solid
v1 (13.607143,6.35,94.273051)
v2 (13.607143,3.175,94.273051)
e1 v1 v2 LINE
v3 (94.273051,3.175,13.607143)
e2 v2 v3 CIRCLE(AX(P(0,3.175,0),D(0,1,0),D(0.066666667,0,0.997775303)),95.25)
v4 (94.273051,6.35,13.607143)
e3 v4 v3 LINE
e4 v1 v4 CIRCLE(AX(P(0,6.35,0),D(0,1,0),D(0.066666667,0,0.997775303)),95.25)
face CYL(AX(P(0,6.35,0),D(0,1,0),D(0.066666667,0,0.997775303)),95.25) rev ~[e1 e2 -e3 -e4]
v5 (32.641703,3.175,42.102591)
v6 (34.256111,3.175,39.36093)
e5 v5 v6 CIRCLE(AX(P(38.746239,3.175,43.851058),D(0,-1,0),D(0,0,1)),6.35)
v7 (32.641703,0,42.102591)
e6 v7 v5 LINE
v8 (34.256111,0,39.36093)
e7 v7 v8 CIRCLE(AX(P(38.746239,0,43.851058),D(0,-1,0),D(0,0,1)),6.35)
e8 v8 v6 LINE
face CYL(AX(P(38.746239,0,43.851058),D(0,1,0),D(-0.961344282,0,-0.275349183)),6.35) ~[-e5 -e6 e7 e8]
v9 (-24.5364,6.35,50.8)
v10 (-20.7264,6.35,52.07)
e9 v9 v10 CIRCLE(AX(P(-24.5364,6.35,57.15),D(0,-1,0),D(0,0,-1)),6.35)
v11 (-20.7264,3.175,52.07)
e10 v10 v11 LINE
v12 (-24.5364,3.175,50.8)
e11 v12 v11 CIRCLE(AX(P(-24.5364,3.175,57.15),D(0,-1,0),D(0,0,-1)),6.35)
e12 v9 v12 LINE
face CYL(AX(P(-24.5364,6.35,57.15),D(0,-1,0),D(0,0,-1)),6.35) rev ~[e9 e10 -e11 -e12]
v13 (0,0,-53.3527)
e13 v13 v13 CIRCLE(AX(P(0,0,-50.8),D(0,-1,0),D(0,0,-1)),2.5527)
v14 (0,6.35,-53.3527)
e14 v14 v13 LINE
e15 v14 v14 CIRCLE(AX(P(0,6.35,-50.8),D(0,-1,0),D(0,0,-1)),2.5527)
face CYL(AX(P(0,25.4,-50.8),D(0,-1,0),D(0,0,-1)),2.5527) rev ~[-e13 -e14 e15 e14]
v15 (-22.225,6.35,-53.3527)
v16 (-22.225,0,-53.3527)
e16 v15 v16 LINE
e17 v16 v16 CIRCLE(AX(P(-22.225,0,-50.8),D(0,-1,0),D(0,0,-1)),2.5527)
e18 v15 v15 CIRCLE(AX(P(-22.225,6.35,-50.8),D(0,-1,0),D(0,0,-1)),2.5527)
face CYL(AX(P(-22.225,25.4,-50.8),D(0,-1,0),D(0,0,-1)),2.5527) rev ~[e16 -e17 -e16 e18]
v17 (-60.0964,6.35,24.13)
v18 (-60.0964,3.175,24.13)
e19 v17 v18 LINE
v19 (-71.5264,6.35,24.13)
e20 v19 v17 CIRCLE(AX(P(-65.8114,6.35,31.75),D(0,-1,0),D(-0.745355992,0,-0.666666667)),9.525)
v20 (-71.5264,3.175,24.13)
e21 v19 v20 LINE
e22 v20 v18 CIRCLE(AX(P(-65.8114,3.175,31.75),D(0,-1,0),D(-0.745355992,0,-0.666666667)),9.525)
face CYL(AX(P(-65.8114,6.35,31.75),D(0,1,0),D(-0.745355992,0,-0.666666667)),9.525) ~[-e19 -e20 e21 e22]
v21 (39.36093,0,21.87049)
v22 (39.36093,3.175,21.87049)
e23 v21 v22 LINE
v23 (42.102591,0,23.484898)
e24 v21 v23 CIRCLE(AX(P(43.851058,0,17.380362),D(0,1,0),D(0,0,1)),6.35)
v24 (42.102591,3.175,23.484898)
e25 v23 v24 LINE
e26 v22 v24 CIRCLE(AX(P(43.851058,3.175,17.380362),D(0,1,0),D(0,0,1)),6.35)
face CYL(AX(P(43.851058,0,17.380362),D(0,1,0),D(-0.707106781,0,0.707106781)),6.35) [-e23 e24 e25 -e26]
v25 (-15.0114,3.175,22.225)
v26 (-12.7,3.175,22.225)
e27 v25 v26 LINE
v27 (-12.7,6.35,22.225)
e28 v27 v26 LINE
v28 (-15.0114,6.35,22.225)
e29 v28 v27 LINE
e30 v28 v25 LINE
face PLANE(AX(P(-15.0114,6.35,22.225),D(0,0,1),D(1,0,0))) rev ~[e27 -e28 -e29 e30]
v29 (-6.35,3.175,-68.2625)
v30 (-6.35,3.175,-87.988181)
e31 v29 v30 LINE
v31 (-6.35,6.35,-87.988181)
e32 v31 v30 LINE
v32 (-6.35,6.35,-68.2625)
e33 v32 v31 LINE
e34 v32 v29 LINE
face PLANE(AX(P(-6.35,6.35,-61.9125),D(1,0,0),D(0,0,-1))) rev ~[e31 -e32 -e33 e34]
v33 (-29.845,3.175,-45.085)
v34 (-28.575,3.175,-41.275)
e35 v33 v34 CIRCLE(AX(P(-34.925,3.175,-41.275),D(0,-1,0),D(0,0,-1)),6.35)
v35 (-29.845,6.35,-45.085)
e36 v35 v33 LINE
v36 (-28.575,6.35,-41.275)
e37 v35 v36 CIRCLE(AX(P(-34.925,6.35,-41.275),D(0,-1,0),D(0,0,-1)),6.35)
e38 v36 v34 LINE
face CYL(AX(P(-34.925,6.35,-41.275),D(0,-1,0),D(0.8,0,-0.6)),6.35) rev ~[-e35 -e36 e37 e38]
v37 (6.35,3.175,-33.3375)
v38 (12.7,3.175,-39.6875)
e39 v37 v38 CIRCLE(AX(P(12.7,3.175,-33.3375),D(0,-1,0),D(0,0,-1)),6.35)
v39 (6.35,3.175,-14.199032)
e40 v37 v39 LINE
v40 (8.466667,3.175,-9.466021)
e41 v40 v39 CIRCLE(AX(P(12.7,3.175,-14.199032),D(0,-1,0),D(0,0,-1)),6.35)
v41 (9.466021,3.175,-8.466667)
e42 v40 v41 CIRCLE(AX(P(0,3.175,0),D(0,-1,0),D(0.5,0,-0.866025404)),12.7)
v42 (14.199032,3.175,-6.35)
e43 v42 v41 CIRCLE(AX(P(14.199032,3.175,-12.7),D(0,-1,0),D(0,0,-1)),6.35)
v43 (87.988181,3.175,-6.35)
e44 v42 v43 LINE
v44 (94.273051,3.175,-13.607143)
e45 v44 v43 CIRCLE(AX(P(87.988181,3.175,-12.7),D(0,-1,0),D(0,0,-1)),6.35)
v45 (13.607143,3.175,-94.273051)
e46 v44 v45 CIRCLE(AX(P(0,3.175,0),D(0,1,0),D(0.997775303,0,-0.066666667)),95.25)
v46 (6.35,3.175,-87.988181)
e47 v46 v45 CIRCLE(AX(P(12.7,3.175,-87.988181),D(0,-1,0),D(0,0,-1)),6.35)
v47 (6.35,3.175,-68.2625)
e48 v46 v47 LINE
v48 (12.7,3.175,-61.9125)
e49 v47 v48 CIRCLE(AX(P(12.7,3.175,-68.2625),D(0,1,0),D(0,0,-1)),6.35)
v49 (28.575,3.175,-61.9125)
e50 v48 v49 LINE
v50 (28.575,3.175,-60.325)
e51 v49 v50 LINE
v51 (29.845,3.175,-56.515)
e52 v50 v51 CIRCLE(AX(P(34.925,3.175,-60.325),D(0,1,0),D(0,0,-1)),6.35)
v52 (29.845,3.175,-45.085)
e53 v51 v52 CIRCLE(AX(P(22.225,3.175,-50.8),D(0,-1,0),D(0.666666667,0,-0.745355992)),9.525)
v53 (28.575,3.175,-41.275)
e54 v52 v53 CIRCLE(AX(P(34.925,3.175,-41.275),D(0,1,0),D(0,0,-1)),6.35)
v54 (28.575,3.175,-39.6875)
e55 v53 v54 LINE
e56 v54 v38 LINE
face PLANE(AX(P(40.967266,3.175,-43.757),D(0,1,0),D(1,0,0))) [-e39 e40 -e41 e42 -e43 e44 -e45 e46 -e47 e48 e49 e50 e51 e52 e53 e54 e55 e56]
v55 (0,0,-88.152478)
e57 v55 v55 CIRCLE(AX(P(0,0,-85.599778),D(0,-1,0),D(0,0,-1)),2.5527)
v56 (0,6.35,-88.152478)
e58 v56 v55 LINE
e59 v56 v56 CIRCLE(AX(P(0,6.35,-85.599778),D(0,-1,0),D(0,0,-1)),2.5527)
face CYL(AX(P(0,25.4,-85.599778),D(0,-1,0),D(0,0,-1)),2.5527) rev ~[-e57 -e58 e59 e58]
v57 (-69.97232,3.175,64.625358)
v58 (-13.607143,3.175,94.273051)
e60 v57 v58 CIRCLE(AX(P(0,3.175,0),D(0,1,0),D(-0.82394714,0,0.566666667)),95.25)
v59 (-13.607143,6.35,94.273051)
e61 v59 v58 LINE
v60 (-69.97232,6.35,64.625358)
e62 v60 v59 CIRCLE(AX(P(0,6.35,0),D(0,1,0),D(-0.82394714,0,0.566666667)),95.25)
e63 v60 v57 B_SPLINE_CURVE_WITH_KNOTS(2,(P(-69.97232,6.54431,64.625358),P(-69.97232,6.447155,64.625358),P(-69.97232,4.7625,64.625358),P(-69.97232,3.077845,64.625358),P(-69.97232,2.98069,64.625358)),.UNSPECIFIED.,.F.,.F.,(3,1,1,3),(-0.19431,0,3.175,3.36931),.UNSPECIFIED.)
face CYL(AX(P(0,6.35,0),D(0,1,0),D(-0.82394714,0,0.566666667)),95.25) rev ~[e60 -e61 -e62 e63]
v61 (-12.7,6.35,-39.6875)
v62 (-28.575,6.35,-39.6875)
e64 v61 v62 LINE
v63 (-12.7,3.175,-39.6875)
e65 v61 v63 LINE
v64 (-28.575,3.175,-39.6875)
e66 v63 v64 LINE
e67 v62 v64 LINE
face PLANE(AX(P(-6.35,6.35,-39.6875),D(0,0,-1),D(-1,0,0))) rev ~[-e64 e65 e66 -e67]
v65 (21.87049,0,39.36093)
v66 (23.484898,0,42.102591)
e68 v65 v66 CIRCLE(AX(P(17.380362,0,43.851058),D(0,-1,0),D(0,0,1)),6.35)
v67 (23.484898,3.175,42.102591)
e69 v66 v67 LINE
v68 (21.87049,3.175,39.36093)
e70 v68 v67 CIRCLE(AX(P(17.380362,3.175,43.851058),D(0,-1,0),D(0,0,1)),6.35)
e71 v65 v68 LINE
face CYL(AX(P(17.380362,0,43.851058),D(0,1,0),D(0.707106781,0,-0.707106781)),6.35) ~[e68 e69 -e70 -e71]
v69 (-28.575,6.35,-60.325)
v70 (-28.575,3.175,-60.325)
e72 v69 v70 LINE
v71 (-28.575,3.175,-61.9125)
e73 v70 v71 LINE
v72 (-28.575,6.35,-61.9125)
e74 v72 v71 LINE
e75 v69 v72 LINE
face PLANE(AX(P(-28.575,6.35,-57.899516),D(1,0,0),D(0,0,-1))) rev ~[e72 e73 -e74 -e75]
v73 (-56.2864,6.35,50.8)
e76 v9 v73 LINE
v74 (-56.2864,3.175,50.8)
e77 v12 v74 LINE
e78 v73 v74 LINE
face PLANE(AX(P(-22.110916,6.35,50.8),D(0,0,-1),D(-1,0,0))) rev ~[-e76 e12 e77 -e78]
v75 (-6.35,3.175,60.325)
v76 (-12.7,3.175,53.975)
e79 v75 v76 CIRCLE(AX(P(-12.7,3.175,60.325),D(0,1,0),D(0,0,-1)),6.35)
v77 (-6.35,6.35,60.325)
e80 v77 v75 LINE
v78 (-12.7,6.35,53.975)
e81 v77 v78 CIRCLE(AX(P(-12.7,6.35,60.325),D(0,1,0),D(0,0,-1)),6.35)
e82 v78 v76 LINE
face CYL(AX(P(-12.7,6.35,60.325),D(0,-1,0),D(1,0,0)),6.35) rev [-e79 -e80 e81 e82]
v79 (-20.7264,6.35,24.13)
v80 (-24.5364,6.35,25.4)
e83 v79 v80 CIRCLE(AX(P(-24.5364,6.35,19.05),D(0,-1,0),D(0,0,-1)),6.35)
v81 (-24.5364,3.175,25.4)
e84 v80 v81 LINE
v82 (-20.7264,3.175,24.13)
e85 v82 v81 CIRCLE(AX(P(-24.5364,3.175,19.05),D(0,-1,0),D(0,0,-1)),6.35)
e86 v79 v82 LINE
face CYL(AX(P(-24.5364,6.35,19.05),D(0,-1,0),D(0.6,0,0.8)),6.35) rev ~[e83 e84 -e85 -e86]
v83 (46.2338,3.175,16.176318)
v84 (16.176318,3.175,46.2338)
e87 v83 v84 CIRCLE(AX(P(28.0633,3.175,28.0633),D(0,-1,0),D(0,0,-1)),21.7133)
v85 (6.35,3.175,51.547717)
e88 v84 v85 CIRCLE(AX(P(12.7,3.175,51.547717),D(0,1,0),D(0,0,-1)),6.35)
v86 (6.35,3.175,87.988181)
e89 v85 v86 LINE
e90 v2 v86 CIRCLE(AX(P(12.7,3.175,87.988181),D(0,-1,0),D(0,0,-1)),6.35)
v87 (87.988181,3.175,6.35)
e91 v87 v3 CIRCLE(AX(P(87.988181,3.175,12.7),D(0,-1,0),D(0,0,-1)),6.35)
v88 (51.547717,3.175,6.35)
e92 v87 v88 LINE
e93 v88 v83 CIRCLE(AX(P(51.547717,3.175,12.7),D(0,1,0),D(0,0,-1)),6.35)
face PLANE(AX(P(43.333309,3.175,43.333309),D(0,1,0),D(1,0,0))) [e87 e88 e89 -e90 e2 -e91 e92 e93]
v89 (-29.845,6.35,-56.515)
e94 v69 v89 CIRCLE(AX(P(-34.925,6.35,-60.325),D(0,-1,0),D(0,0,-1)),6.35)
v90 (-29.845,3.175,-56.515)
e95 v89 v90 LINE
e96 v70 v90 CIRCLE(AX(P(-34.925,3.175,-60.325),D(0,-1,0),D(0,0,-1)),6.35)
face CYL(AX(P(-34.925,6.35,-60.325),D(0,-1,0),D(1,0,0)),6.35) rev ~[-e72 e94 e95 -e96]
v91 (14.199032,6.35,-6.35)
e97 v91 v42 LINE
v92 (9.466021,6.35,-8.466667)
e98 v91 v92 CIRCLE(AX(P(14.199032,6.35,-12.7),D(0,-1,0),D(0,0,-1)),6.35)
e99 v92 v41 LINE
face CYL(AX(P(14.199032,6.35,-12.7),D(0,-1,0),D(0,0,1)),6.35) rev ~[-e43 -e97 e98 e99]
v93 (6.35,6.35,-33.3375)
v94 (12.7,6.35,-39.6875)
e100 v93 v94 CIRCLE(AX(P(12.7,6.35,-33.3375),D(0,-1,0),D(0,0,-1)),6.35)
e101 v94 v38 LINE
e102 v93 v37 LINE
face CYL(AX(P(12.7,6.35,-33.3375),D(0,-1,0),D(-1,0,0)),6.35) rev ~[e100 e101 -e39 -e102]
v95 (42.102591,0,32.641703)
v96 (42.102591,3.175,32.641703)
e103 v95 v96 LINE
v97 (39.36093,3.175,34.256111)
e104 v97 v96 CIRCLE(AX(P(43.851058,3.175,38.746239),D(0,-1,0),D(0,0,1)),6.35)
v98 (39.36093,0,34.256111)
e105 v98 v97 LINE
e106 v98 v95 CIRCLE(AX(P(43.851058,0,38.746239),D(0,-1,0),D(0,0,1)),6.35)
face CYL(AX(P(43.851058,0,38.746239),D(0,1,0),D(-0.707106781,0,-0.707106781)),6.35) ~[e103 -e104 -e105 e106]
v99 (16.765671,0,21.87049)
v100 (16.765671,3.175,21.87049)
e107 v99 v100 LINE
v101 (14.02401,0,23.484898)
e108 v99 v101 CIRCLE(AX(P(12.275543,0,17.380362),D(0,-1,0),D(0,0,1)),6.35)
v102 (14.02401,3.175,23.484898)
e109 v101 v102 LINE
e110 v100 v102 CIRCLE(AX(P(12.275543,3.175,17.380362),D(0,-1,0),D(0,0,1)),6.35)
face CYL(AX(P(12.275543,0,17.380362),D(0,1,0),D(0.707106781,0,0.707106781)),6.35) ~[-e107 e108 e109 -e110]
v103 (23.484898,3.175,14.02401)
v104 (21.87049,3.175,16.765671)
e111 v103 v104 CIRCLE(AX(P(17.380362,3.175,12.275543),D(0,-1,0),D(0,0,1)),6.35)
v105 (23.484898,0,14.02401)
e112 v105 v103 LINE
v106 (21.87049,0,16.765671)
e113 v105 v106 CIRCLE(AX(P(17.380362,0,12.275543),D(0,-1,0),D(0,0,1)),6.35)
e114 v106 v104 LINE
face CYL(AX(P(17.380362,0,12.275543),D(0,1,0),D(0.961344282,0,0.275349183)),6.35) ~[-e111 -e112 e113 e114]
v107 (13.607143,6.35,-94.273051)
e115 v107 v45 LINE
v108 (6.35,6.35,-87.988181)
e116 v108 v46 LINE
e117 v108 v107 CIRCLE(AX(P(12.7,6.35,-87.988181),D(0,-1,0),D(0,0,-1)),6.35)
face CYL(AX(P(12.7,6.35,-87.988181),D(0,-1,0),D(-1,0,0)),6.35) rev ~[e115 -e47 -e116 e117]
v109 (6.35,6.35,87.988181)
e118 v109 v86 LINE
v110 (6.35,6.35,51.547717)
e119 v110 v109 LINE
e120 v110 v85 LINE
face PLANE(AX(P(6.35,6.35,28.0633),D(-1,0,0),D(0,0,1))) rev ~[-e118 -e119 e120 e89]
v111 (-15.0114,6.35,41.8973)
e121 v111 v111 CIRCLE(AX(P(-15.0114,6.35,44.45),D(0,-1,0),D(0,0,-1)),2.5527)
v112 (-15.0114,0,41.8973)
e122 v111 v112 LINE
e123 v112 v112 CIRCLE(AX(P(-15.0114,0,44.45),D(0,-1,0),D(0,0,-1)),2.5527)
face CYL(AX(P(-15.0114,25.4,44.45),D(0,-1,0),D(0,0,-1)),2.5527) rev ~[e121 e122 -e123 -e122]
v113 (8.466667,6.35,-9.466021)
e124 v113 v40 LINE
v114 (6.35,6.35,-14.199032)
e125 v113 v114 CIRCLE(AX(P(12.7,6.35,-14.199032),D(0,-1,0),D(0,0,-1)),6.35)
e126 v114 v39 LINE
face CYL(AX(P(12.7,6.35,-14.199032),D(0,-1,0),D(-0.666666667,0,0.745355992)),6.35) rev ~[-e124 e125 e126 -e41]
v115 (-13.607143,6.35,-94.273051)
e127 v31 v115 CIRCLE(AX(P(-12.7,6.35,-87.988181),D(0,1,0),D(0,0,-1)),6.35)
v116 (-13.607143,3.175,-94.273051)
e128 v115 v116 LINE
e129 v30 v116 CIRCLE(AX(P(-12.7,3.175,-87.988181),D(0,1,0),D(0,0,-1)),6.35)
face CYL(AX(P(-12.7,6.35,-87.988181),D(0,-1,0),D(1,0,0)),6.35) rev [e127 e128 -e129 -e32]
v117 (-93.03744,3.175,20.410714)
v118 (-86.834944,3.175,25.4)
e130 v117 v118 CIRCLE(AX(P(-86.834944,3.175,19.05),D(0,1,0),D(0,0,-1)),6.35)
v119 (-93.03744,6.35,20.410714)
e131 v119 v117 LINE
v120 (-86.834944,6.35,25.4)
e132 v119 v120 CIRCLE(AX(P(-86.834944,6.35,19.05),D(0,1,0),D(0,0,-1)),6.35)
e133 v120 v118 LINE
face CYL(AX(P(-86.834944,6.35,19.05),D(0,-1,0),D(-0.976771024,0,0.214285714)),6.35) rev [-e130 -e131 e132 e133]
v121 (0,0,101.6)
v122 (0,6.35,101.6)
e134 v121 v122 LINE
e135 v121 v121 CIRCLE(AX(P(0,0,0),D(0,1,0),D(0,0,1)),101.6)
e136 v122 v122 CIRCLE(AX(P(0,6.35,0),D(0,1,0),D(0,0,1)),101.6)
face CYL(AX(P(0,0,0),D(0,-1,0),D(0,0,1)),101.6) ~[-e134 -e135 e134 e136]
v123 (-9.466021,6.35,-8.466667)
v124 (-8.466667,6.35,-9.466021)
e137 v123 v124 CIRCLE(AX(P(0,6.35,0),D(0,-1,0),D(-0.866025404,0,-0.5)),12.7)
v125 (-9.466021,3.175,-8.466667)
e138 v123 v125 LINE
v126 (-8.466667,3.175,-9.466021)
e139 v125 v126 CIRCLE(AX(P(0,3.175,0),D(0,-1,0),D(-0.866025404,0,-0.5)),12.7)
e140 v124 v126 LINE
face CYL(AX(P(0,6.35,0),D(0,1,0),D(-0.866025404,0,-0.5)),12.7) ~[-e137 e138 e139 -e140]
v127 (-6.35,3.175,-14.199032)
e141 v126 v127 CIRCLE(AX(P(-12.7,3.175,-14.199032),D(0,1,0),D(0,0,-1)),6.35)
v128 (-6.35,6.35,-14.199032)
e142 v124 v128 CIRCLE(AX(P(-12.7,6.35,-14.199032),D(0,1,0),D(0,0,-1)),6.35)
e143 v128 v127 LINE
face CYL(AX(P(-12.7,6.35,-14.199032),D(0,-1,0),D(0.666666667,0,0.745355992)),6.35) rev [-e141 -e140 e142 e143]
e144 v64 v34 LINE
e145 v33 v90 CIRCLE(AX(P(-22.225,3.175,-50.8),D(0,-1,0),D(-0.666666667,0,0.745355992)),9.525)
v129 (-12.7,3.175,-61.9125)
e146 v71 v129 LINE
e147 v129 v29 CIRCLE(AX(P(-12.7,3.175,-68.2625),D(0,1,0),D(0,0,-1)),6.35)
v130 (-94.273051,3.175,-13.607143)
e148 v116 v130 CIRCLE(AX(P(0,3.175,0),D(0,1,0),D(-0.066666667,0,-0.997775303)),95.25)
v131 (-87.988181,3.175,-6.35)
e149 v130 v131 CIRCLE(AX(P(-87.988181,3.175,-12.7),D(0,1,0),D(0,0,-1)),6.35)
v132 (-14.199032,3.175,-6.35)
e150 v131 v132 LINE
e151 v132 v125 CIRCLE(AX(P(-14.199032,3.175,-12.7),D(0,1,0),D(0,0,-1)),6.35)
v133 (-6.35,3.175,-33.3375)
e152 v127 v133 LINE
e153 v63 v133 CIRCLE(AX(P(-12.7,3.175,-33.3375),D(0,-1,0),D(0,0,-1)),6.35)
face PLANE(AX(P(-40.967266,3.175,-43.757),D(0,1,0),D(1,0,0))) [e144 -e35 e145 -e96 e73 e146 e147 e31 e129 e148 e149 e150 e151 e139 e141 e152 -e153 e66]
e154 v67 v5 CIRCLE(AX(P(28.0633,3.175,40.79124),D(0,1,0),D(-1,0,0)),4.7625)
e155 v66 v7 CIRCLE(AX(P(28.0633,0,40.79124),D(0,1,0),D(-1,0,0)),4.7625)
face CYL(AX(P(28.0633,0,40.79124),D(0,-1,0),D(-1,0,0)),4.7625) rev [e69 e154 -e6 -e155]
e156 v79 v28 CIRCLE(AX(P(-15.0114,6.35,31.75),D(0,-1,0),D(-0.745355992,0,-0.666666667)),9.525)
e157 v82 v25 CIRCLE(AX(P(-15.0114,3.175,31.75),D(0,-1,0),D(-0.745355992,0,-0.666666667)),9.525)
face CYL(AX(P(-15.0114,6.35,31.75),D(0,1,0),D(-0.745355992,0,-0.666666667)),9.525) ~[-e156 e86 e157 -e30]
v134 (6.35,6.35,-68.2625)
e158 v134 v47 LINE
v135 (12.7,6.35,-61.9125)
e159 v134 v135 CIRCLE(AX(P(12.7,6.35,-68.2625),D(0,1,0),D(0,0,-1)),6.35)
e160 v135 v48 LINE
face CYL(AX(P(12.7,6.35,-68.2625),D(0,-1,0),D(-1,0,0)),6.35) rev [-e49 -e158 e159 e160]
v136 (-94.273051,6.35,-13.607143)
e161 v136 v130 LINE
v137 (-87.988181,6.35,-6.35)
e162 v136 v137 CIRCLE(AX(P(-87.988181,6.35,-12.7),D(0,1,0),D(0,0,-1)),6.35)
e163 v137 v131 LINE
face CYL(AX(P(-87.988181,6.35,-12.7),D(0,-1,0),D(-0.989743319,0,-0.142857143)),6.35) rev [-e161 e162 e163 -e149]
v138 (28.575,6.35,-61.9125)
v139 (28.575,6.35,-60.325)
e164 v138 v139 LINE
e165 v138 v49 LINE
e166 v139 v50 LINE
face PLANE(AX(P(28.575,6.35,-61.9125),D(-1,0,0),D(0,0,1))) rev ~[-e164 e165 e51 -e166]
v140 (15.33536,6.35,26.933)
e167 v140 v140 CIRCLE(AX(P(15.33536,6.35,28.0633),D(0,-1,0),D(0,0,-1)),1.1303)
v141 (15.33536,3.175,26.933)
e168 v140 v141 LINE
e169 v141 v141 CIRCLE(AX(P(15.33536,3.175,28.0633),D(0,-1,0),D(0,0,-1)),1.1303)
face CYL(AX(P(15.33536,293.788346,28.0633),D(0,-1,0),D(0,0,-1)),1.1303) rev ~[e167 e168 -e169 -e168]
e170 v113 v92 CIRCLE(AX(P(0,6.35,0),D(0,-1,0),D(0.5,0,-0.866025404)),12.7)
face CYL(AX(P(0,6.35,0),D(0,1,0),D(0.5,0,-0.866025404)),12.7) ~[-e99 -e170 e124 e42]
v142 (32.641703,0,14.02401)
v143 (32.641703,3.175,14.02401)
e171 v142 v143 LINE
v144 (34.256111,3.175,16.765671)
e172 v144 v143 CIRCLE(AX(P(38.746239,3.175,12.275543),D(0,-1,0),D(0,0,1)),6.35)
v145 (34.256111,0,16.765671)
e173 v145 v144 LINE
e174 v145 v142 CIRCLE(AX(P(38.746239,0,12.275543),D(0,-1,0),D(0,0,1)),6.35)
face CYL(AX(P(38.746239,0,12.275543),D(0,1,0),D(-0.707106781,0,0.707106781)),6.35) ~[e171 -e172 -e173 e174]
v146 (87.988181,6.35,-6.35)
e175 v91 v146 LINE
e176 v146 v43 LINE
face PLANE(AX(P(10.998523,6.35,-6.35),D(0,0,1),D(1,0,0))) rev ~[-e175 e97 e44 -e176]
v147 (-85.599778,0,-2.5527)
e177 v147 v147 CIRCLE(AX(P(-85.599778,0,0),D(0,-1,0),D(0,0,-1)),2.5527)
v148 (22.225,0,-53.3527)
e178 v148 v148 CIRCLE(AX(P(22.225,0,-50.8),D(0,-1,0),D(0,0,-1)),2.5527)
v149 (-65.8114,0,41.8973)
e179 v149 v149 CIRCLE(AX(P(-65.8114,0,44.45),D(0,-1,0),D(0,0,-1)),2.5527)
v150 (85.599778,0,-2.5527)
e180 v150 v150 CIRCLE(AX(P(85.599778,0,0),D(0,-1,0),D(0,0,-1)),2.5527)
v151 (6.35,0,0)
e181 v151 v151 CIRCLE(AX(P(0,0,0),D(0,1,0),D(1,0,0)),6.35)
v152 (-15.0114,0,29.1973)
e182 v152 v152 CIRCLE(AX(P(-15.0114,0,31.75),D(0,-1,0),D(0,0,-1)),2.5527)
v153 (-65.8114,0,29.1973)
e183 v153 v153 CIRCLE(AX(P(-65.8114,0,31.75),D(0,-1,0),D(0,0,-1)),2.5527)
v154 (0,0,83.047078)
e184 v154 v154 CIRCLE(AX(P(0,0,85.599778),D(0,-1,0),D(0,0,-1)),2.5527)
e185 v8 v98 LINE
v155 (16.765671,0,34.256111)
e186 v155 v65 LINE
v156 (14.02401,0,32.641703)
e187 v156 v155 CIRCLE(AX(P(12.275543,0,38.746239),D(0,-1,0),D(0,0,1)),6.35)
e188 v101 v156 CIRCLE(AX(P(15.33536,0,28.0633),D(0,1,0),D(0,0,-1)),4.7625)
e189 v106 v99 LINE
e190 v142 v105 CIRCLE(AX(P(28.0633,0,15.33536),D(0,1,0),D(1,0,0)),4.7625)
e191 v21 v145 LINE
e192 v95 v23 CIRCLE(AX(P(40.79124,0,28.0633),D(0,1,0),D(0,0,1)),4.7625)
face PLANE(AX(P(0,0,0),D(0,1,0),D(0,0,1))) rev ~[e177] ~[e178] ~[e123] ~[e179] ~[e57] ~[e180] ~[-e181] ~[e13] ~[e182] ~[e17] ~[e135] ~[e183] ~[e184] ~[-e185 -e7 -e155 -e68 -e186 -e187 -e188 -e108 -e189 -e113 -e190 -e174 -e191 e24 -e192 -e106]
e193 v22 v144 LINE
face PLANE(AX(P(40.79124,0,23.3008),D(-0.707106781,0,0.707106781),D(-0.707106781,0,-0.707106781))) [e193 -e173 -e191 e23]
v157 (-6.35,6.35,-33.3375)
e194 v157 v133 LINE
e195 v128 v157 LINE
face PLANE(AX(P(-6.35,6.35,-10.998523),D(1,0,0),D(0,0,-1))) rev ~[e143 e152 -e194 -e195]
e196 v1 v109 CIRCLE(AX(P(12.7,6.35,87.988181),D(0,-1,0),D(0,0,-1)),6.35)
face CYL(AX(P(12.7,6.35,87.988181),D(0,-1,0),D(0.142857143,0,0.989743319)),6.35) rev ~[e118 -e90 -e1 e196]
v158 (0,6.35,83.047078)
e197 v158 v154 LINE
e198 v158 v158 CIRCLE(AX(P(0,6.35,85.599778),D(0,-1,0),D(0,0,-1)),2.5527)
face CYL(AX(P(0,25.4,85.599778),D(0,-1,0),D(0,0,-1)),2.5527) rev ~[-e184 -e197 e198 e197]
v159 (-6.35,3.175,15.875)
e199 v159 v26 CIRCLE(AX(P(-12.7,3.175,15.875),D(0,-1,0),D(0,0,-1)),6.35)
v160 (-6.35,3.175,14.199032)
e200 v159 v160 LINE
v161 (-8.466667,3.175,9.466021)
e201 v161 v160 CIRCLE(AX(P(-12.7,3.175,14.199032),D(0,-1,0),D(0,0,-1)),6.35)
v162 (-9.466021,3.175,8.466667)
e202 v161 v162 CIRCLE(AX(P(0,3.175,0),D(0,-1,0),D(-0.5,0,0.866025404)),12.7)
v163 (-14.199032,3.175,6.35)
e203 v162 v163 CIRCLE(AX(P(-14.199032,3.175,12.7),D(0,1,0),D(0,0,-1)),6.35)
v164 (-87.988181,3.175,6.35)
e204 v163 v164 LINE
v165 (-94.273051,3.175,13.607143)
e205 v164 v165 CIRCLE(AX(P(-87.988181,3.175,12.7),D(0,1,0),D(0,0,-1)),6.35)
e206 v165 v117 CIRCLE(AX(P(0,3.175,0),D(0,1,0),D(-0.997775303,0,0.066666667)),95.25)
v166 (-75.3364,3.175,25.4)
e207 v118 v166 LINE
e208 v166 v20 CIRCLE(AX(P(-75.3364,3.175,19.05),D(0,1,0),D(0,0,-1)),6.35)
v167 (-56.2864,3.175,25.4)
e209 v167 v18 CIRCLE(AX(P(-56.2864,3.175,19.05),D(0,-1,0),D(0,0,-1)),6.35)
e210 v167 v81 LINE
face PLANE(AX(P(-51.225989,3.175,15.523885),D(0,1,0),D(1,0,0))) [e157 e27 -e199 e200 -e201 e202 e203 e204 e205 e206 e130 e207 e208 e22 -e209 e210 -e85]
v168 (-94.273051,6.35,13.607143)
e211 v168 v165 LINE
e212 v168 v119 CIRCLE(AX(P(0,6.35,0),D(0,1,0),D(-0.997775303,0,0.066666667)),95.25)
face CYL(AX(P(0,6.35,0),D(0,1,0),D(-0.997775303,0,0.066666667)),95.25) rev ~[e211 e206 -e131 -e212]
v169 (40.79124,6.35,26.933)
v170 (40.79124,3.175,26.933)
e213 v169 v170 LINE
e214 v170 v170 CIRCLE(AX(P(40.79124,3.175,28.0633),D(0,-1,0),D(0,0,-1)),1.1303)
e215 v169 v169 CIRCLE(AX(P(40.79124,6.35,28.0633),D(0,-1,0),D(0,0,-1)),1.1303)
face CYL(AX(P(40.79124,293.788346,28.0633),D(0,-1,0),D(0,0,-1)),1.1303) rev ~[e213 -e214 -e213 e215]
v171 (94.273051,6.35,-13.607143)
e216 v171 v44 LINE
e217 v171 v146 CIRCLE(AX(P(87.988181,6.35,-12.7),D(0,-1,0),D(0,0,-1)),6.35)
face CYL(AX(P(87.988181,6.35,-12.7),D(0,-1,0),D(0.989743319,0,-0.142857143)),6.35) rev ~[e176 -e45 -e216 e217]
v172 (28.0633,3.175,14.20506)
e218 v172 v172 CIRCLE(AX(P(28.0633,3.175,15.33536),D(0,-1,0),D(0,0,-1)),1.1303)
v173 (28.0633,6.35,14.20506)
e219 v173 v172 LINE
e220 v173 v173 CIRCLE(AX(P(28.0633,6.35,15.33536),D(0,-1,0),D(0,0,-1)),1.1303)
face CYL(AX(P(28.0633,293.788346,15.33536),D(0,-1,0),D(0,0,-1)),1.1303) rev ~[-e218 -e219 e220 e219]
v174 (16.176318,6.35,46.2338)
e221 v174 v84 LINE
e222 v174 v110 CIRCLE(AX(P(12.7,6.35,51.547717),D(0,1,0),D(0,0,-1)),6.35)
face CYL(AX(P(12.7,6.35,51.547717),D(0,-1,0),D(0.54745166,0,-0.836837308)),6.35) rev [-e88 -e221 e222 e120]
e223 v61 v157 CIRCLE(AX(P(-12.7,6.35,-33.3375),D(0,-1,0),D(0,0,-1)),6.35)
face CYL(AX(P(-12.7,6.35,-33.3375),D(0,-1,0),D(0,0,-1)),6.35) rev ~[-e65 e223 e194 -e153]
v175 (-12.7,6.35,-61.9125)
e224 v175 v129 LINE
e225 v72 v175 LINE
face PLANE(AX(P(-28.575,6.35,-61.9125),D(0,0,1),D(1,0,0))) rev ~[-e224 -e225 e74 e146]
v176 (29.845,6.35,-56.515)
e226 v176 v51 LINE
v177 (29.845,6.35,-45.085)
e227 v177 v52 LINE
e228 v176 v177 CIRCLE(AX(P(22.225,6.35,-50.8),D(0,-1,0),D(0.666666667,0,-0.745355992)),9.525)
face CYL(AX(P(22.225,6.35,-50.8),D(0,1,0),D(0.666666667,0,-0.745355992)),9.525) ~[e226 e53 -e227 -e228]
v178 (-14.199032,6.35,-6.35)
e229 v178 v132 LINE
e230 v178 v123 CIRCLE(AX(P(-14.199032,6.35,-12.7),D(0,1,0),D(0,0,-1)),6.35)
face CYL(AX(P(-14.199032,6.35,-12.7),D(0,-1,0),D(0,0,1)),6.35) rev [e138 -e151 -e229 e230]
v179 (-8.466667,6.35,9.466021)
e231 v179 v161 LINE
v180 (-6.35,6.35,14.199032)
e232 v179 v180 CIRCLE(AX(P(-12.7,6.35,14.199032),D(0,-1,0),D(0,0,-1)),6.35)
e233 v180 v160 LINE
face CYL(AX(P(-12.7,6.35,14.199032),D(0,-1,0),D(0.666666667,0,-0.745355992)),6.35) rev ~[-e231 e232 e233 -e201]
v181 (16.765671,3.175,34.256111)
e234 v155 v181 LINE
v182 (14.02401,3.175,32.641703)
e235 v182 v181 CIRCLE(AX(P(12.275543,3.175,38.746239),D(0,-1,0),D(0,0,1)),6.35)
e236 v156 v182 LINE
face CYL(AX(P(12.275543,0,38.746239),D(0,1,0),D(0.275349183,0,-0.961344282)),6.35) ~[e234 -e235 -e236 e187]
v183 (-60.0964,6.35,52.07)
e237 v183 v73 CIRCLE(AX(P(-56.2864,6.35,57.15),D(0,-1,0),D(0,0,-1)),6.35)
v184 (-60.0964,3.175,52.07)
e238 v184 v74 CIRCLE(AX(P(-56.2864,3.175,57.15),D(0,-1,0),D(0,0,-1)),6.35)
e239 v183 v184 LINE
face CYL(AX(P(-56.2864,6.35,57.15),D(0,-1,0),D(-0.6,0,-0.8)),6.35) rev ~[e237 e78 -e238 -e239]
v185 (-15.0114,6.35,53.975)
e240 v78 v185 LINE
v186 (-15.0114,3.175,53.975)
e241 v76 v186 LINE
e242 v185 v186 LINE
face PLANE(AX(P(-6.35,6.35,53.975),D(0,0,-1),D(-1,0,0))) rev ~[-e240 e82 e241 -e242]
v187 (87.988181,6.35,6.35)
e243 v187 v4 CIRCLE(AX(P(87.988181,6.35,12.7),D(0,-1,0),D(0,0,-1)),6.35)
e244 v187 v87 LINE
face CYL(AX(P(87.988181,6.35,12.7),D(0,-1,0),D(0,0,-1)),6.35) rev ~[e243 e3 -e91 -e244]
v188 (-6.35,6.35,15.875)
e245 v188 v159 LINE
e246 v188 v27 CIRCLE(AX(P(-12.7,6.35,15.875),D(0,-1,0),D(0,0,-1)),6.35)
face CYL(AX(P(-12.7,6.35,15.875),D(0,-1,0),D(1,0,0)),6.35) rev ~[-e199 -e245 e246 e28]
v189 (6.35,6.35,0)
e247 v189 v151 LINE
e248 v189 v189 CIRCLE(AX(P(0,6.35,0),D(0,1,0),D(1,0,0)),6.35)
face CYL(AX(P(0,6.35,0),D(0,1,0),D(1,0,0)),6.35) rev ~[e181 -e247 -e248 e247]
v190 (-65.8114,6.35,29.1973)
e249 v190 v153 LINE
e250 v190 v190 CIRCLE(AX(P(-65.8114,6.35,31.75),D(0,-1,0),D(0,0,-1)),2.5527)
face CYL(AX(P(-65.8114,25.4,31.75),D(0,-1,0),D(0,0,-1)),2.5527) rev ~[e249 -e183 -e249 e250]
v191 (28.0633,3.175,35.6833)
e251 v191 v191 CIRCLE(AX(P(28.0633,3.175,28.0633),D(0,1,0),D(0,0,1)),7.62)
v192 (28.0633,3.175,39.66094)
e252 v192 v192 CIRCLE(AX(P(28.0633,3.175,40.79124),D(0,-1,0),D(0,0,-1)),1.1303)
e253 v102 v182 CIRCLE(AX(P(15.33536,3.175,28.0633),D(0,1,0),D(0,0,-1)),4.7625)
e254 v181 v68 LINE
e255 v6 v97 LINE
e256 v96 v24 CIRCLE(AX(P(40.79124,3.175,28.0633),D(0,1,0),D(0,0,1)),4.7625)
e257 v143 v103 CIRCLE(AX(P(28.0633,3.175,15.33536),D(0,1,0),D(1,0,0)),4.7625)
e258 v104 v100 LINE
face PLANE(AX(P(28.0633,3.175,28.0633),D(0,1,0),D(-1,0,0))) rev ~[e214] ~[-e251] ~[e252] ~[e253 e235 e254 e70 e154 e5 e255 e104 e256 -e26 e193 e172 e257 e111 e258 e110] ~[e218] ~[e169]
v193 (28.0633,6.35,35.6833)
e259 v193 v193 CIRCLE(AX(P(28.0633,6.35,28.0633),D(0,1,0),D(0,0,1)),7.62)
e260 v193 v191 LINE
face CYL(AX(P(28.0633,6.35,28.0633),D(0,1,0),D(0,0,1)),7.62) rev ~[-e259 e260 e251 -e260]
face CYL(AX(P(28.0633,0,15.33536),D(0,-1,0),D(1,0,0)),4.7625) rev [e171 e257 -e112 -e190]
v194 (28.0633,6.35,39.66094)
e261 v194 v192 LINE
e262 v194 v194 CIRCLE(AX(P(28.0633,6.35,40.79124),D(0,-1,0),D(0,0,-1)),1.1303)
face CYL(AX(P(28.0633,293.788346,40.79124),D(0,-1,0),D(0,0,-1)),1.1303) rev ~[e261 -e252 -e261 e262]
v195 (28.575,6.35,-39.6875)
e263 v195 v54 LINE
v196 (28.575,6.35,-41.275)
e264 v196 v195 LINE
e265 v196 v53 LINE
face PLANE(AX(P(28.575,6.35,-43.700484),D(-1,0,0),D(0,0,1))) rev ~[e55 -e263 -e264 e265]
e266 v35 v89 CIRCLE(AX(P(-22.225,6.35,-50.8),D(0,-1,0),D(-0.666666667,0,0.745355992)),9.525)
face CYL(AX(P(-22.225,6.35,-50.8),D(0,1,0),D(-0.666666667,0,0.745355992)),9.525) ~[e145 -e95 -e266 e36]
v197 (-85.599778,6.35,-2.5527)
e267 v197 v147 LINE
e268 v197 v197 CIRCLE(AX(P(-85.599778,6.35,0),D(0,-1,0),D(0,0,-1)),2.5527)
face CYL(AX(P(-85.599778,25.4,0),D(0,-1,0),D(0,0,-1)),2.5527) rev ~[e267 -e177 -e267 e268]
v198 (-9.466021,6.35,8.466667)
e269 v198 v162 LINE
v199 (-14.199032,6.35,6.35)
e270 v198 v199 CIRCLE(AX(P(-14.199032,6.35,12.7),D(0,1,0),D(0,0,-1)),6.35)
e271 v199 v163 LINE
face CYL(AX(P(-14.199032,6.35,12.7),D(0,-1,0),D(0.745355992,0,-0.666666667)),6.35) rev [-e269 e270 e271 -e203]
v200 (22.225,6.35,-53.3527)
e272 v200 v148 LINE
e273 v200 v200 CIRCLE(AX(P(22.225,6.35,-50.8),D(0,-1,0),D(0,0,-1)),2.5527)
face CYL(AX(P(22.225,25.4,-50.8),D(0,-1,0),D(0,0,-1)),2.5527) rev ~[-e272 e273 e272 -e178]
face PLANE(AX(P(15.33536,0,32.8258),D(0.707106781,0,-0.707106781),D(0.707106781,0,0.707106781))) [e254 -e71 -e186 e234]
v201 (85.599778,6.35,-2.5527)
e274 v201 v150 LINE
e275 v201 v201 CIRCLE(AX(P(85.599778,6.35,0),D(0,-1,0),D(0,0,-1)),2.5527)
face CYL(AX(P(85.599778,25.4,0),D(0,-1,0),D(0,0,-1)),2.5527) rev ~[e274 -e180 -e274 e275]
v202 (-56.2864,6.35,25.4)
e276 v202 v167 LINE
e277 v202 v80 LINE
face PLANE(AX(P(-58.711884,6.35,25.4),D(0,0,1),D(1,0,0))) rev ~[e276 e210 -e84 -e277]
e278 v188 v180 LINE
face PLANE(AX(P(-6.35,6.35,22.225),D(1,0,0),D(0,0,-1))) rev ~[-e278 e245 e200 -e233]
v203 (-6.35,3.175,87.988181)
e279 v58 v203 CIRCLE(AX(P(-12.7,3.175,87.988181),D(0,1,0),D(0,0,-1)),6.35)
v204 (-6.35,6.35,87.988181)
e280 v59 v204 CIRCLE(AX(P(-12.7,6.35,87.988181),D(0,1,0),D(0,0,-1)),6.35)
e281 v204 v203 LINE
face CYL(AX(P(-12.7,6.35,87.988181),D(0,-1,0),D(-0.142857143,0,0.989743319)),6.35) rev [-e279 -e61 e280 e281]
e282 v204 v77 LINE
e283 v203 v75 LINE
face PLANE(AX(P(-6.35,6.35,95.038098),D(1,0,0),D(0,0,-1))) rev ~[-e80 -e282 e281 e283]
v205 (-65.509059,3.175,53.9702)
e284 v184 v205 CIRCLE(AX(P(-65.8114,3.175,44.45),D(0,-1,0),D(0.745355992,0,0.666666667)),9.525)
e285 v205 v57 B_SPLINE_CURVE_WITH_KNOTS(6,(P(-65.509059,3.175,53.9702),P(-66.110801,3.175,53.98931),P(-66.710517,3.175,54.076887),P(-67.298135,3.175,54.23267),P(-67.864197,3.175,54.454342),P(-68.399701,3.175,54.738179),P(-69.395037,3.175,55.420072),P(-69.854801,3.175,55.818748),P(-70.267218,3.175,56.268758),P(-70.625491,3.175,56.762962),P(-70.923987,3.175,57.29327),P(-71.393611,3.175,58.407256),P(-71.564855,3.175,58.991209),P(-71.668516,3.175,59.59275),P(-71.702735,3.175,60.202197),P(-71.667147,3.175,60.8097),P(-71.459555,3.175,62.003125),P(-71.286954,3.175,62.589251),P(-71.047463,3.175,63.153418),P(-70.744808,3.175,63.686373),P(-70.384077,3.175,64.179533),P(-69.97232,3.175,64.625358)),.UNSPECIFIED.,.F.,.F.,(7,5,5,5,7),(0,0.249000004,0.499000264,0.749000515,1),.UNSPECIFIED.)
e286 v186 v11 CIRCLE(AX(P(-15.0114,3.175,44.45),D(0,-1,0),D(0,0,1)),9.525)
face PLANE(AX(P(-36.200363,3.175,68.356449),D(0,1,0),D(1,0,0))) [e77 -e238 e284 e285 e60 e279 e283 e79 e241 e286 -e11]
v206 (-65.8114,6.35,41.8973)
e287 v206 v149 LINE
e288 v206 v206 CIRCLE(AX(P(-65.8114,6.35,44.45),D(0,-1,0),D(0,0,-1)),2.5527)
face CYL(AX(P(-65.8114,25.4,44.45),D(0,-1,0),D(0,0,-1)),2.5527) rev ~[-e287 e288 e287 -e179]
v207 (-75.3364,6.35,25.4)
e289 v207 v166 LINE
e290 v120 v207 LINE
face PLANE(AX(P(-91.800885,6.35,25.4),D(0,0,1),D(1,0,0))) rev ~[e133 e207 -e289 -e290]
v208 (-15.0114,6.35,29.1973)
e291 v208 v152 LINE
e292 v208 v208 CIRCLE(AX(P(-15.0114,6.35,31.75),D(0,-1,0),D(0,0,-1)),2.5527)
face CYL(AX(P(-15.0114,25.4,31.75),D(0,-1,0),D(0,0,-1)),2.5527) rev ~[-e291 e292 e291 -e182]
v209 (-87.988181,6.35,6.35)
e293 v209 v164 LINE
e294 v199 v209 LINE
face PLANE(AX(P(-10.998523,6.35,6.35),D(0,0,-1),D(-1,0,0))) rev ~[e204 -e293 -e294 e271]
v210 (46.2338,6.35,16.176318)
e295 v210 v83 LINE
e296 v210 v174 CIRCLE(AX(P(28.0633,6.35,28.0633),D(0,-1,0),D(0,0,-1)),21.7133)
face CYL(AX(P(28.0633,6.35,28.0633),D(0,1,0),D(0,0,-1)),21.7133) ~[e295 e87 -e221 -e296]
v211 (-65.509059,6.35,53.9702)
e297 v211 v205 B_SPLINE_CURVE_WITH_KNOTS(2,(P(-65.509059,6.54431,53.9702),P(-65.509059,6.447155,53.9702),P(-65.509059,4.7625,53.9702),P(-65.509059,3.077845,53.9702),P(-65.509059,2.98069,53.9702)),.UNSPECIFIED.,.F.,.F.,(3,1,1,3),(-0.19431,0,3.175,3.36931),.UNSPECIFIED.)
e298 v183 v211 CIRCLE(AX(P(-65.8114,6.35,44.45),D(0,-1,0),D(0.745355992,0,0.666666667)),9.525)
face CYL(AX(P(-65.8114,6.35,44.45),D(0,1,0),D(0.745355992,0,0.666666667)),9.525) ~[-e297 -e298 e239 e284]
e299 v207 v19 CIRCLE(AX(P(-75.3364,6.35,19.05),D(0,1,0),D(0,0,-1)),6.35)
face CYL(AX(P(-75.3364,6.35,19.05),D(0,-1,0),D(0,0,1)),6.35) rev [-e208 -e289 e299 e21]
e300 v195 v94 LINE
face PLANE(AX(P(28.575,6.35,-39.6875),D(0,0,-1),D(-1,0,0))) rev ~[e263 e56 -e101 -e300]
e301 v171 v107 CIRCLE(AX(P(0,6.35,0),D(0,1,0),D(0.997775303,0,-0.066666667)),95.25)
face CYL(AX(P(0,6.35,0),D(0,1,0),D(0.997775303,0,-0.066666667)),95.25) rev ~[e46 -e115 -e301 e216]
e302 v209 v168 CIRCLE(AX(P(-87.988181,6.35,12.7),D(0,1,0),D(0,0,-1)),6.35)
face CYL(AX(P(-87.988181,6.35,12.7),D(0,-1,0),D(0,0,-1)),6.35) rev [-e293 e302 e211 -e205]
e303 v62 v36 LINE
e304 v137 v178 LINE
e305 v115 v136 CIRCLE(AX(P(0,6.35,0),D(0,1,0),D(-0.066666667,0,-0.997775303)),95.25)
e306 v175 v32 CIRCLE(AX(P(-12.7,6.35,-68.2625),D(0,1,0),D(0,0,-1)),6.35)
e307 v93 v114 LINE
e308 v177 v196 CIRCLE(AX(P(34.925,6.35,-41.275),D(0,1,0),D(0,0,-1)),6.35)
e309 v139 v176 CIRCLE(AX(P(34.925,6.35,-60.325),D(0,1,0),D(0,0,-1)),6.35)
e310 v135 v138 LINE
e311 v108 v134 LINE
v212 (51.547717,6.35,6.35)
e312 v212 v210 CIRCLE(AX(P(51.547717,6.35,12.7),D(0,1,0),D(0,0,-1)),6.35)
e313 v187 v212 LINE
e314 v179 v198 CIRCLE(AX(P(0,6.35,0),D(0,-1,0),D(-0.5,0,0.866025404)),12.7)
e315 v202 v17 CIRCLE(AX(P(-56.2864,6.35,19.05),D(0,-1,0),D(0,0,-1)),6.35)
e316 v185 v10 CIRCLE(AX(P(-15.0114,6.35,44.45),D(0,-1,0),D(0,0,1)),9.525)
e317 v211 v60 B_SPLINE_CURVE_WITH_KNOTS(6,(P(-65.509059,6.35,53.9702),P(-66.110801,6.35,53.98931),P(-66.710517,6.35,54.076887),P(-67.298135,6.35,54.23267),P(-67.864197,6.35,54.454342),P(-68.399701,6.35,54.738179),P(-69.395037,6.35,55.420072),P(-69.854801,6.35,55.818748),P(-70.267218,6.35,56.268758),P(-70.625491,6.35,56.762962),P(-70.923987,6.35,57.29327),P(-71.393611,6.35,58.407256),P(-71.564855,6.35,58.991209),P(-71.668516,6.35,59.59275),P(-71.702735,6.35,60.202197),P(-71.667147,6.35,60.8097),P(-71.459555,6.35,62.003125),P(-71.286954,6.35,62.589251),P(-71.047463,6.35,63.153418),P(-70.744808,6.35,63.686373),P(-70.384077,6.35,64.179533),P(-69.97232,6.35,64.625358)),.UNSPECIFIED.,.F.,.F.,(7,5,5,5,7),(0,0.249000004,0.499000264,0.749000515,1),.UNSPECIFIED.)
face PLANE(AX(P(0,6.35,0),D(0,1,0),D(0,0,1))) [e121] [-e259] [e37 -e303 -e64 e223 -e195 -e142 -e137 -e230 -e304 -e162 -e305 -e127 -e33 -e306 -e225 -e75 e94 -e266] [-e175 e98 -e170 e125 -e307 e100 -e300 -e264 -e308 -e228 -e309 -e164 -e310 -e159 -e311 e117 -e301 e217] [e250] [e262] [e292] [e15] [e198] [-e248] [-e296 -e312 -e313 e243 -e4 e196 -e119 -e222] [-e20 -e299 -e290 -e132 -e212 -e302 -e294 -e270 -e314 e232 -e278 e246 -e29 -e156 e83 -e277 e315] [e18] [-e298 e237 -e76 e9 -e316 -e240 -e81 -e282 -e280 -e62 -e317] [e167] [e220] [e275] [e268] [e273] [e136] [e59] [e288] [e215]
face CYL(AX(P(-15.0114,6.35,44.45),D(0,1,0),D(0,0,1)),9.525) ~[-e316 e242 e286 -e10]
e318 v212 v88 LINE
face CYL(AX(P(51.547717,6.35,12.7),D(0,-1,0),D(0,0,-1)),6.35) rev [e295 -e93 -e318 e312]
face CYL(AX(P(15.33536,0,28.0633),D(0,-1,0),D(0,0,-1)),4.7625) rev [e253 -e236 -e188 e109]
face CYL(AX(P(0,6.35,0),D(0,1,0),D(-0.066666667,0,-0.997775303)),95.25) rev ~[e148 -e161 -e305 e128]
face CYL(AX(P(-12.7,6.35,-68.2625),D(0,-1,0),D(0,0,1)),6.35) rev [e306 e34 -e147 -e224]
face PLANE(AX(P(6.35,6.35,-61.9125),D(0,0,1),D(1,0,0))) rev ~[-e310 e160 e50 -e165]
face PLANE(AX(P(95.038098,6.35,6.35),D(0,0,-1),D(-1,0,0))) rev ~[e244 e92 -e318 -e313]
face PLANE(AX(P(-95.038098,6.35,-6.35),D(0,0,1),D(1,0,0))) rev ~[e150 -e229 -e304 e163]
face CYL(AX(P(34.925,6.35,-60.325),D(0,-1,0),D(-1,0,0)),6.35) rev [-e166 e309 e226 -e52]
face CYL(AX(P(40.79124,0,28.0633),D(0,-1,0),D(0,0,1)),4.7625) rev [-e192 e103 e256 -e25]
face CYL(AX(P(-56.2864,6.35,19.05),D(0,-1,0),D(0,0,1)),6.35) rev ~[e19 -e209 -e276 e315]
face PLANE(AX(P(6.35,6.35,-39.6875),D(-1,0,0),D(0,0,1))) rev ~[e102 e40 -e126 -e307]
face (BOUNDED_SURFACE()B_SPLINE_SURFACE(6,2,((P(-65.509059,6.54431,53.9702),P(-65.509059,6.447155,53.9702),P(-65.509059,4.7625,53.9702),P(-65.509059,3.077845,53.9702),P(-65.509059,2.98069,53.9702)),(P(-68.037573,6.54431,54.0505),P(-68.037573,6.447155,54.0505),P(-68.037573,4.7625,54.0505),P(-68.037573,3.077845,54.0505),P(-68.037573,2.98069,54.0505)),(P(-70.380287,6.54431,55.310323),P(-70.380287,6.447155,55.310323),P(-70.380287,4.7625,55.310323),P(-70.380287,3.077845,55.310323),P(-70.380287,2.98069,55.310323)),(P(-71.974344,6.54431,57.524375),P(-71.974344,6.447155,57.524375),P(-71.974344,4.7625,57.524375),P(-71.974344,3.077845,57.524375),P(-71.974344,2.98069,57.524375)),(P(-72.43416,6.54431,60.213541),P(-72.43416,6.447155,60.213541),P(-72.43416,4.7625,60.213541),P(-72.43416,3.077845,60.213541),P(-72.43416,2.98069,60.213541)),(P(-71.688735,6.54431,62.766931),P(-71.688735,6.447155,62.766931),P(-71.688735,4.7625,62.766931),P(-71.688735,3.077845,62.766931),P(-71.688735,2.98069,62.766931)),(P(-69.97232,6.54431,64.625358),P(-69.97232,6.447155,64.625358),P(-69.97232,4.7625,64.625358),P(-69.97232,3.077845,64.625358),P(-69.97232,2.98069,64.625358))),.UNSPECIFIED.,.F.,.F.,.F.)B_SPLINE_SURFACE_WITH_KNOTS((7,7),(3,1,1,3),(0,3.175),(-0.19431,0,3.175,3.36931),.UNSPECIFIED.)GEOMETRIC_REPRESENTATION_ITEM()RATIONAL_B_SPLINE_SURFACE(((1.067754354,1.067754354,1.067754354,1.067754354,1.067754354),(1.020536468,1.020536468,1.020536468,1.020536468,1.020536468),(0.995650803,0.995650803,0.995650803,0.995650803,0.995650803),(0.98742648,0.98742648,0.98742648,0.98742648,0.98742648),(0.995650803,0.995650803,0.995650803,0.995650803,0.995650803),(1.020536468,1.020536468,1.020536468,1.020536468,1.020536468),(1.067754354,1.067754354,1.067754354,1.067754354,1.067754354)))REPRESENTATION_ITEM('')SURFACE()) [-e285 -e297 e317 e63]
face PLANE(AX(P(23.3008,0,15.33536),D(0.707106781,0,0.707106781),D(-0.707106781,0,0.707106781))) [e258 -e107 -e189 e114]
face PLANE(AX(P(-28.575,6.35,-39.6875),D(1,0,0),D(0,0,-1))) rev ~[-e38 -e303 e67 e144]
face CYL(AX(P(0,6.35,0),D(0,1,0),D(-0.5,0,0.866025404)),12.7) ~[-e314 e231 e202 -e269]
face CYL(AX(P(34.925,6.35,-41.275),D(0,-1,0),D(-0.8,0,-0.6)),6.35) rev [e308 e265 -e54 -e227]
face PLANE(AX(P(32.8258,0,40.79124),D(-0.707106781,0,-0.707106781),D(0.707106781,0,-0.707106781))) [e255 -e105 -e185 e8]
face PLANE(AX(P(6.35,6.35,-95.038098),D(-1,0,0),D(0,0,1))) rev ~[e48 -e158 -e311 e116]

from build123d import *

# Parameters (mm, degrees)
SKETCH3_R                   = 101.6
BOSS_EXTRUDE1_DEPTH         = 6.35
SKETCH4_R                   = 7.620000000000008
CUT_EXTRUDE1_DEPTH          = 144.82434599190776
F_1_4_20_TAPPED_HOLE5_D     = 5.1054
F_1_4_20_TAPPED_HOLE5_DEPTH = 19.05
F_1_4_20_TAPPED_HOLE5_TIP   = 1.5338169021916532
CUT_EXTRUDE2_DEPTH          = 3.175
F_1_4_20_TAPPED_HOLE2_D     = 5.1054
F_1_4_20_TAPPED_HOLE2_DEPTH = 19.05
F_1_4_20_TAPPED_HOLE2_TIP   = 1.5338169021916532
F_1_4_20_TAPPED_HOLE4_D     = 5.1054
F_1_4_20_TAPPED_HOLE4_DEPTH = 19.05
F_1_4_20_TAPPED_HOLE4_TIP   = 1.5338169021916532
FILLET3_R                   = 6.35
F_4_40_TAPPED_HOLE1_D       = 2.2606
CUT_EXTRUDE3_DEPTH          = 3.175
FILLET4_R                   = 6.35


with BuildPart() as part:
    # Sketch3 → Boss-Extrude1 (new body)
    with BuildSketch(Plane(origin=(0, 0, 0), x_dir=(1, 0, 0), z_dir=(0, 1, 0))):
        with Locations(Location((0, 0, 0), (0, 0, 270))):
            Circle(SKETCH3_R)
    extrude(amount=BOSS_EXTRUDE1_DEPTH)

    # Sketch4 → Cut-Extrude1 (cut, through all)
    with BuildSketch(Plane(origin=(0, 6.35, 0), x_dir=(1, 0, 0), z_dir=(0, 1, 0))):
        with BuildLine():
            ThreePointArc((2.703e-14, -6.349999999999998), (4.490128060534583, -4.490128060534569), (6.349999999999998, -1.56e-15))
            Line((6.349999999999994, 0), (0, 0))
            Line((0, 0), (0, -6.349999999999994))
        make_face()
        with BuildLine():
            Line((0, 0), (6.349999999999994, 0))
            ThreePointArc((6.349999999999998, 0), (-4.490128060534585, 4.490128060534566), (2.703e-14, -6.349999999999998))
            Line((0, -6.349999999999994), (0, 0))
        make_face()
        with Locations(Location((28.06330037834144, -28.063300378340767, 0), (0, 0, 270))):
            Circle(SKETCH4_R)
    extrude(amount=-CUT_EXTRUDE1_DEPTH, mode=Mode.SUBTRACT)

    # 1/4-20 Tapped Hole5
    with Locations(Plane(origin=(0, 6.35, -85.599778), x_dir=(0, 0, 1), z_dir=(0, 1, 0))):
        with Locations((0, 0), (85.599778, -85.599778), (171.199556, 0), (85.599778, 85.599778)):
            Hole(F_1_4_20_TAPPED_HOLE5_D / 2, depth=F_1_4_20_TAPPED_HOLE5_DEPTH)
            with Locations((0, 0, -(F_1_4_20_TAPPED_HOLE5_DEPTH + F_1_4_20_TAPPED_HOLE5_TIP / 2))):  # 118° drill point
                Cone(0, F_1_4_20_TAPPED_HOLE5_D / 2, F_1_4_20_TAPPED_HOLE5_TIP, mode=Mode.SUBTRACT)

    # Sketch6 → Cut-Extrude2 (cut)
    with BuildSketch(Plane(origin=(0, 6.35, 0), x_dir=(1, 0, 0), z_dir=(0, 1, 0))):
        with BuildLine():
            Line((-28.575000000000006, 61.9125), (-6.349999999999998, 61.912500000000016))
            Line((-6.349999999999998, 61.912500000000016), (-6.350000000000037, 95.03809762405811))
            ThreePointArc((-6.350000000000033, 95.03809762405811), (-67.35192090801853, 67.35192090801877), (-95.03809762405808, 6.350000000000408))
            Line((-95.03809762405807, 6.350000000000351), (-10.998522628062574, 6.349999999999822))
            ThreePointArc((-10.998522628062497, 6.349999999999779), (-8.980256121069209, 8.980256121069099), (-6.349999999999914, 10.99852262806242))
            Line((-6.349999999999998, 10.99852262806245), (-6.349999999999998, 39.687499999999986))
            Line((-6.349999999999998, 39.687499999999986), (-28.575, 39.687499999999986))
            Line((-28.575, 39.687499999999986), (-28.575, 43.70048417143843))
            ThreePointArc((-28.575000000000216, 43.700484171438355), (-31.750000000000014, 50.80000000000001), (-28.57500000000022, 57.89951582856166))
            Line((-28.575000000000006, 57.89951582856159), (-28.575000000000006, 61.9125))
        make_face()
        with BuildLine():
            Line((6.350000000002216, 95.03809762405781), (6.349999999999998, 61.91250000000002))
            Line((6.349999999999998, 61.91250000000002), (28.575000000000028, 61.91250000000004))
            Line((28.575000000000028, 61.91250000000004), (28.575000000000028, 57.89951582856217))
            ThreePointArc((28.574999999999754, 57.89951582856208), (31.75000000000002, 50.80000000000001), (28.57499999999976, 43.700484171437935))
            Line((28.575000000000035, 43.70048417143784), (28.575000000000035, 39.687499999999986))
            Line((28.575000000000035, 39.687499999999986), (6.349999999999998, 39.687499999999986))
            Line((6.349999999999998, 39.687499999999986), (6.349999999999998, 10.998522628062325))
            ThreePointArc((6.350000000000048, 10.998522628062343), (8.980256121069322, 8.980256121068983), (10.998522628062583, 6.349999999999632))
            Line((10.998522628062709, 6.349999999999706), (95.03809762405771, 6.350000000002941))
            ThreePointArc((95.03809762405791, 6.3500000000029555), (67.35192090801839, 67.35192090801893), (6.350000000002218, 95.03809762405797))
        make_face()
        with BuildLine():
            ThreePointArc((-6.349999999999907, -10.998522628062423), (-8.980256121069205, -8.9802561210691), (-10.9985226280625, -6.349999999999777))
            Line((-10.998522628062572, -6.349999999999824), (-95.03809762405797, -6.350000000001099))
            ThreePointArc((-95.03809762405804, -6.350000000001103), (-93.90381775371628, -15.957302756946103), (-91.8008850719861, -25.399999999999988))
            Line((-91.8008850719861, -25.400000000000006), (-72.9109158285621, -25.400000000000006))
            ThreePointArc((-72.91091582856204, -25.400000000000183), (-65.81140000000006, -22.22499999999998), (-58.71188417143806, -25.400000000000126))
            Line((-58.71188417143801, -25.400000000000084), (-22.110915828561872, -25.400000000000006))
            ThreePointArc((-22.110915828561865, -25.400000000000006), (-18.899964966668318, -23.054904399605476), (-15.011400000000005, -22.22499999999998))
            Line((-15.011400000000005, -22.22499999999998), (-6.349999999999998, -22.22499999999998))
            Line((-6.349999999999998, -22.22499999999998), (-6.349999999999998, -10.998522628062457))
        make_face()
        with BuildLine():
            Line((95.03809762405827, -6.349999999998817), (28.063300378341538, -6.350000000000001))
            ThreePointArc((28.063300378341545, -6.350000000000005), (43.41692231780658, -43.416922317805984), (6.35000000000068, -28.063300378340763))
            Line((6.350000000000339, -28.063300378340763), (6.3500000000001044, -95.03809762405808))
            ThreePointArc((6.350000000000042, -95.03809762405811), (67.35192090801905, -67.35192090801824), (95.0380976240582, -6.349999999998817))
        make_face()
        with BuildLine():
            Line((-65.81140000000002, -53.97499999999998), (-78.48096504885757, -53.97499999999998))
            ThreePointArc((-78.48096504885758, -53.97499999999996), (-47.123429994015716, -82.77647519433948), (-6.350000000001006, -95.03809762405804))
            Line((-6.350000000000966, -95.03809762405798), (-6.349999999999998, -53.97499999999998))
            Line((-6.349999999999998, -53.97499999999998), (-15.011400000000005, -53.97499999999998))
            ThreePointArc((-15.011400000000007, -53.97499999999998), (-18.8999649666683, -53.14509560039449), (-22.11091582856184, -50.79999999999998))
            Line((-22.110915828561843, -50.79999999999998), (-58.71188417143799, -50.799999999999876))
            ThreePointArc((-58.71188417143805, -50.79999999999983), (-61.92283503333163, -53.14509560039445), (-65.81140000000002, -53.97499999999998))
        make_face()
    extrude(amount=-CUT_EXTRUDE2_DEPTH, mode=Mode.SUBTRACT)

    # 1/4-20 Tapped Hole2
    with Locations(Plane(origin=(-22.225, 6.35, -50.8), x_dir=(0, 0, 1), z_dir=(0, 1, 0))):
        with Locations((0, 0), (0, 44.45), (0, 22.225)):
            Hole(F_1_4_20_TAPPED_HOLE2_D / 2, depth=F_1_4_20_TAPPED_HOLE2_DEPTH)
            with Locations((0, 0, -(F_1_4_20_TAPPED_HOLE2_DEPTH + F_1_4_20_TAPPED_HOLE2_TIP / 2))):  # 118° drill point
                Cone(0, F_1_4_20_TAPPED_HOLE2_D / 2, F_1_4_20_TAPPED_HOLE2_TIP, mode=Mode.SUBTRACT)

    # 1/4-20 Tapped Hole4
    with Locations(Plane(origin=(-65.8114, 6.35, 31.75), x_dir=(0, 0, 1), z_dir=(0, 1, 0))):
        with Locations((0, 0), (12.7, 0), (12.7, 50.8), (0, 50.8)):
            Hole(F_1_4_20_TAPPED_HOLE4_D / 2, depth=F_1_4_20_TAPPED_HOLE4_DEPTH)
            with Locations((0, 0, -(F_1_4_20_TAPPED_HOLE4_DEPTH + F_1_4_20_TAPPED_HOLE4_TIP / 2))):  # 118° drill point
                Cone(0, F_1_4_20_TAPPED_HOLE4_D / 2, F_1_4_20_TAPPED_HOLE4_TIP, mode=Mode.SUBTRACT)

    # Fillet3
    fillet3_edges = [part.edges().sort_by_distance(p)[0] for p in [
        (-10.998522628062535, 4.762499999999999, 6.349999999999799),
        (-6.349999999999952, 4.762499999999999, 10.998522628062439),
        (-6.3500000000009855, 4.762499999999999, 95.038097624058),
        (-95.03809762405801, 4.762499999999999, 6.350000000001101),
        (95.03809762405824, 4.762499999999999, 6.349999999998815),
        (6.350000000000073, 4.762499999999999, 95.0380976240581),
        (95.03809762405783, 4.762499999999999, -6.350000000002949),
        (10.998522628062645, 4.762499999999999, -6.349999999999669),
        (6.350000000000022, 4.762499999999999, -10.998522628062334),
        (6.349999999999998, 4.762499999999999, -39.687499999999986),
        (6.349999999999998, 4.762499999999999, -61.91250000000002),
        (6.35000000000222, 4.762499999999999, -95.0380976240579),
        (-6.350000000000035, 4.762499999999999, -95.03809762405811),
        (-95.03809762405808, 4.762499999999999, -6.350000000000376),
        (-10.998522628062535, 4.762499999999999, -6.349999999999801),
        (-6.349999999999955, 4.762499999999999, -10.998522628062435),
        (-6.349999999999998, 4.762499999999999, -39.687499999999986),
        (28.06330037834154, 4.762499999999999, 6.350000000000007),
        (6.350000000000506, 4.762499999999999, 28.06330037834077),
        (-6.349999999999998, 4.762499999999999, -61.912500000000016),
        (-72.91091582856207, 4.762499999999999, 25.400000000000095),
        (-58.71188417143803, 4.762499999999999, 25.400000000000105),
        (-22.110915828561843, 4.762499999999999, 50.79999999999998),
        (-22.11091582856187, 4.762499999999999, 25.400000000000006),
        (-28.575000000000117, 4.762499999999999, -57.899515828561626),
        (-28.57500000000011, 4.762499999999999, -43.70048417143839),
        (28.574999999999896, 4.762499999999999, -43.70048417143789),
        (28.57499999999989, 4.762499999999999, -57.89951582856213),
        (-91.80088507198612, 4.762499999999999, 25.399999999999995),
        (-58.711884171438015, 4.762499999999999, 50.799999999999855),
        (-78.48096504885758, 4.762499999999999, 53.97499999999998),
        (-6.349999999999998, 4.762499999999999, 22.22499999999998),
        (-6.349999999999998, 4.762499999999999, 53.97499999999998),
    ]]
    fillet(fillet3_edges, radius=FILLET3_R)

    # #4-40 Tapped Hole1 (through all)
    with Locations(Plane(origin=(28.063300378, 6.35, 15.335360378), x_dir=(0, 0, 1), z_dir=(0, 1, 0))):
        with Locations((0, 0), (12.72794, -12.72794), (25.45588, 0), (12.72794, 12.72794)):
            Hole(F_4_40_TAPPED_HOLE1_D / 2)

    # Sketch15 → Cut-Extrude3 (cut)
    with BuildSketch(Plane.XZ):
        with BuildLine():
            Line((40.79124037834144, 23.300800378340764), (32.82580037834144, 15.335360378340768))
            ThreePointArc((32.82580037834144, 15.335360378340768), (28.06330037834144, 10.572860378340765), (23.30080037834144, 15.335360378340768))
            Line((23.30080037834144, 15.335360378340768), (15.335360378341441, 23.300800378340767))
            ThreePointArc((15.335360378341441, 23.300800378340767), (10.572860378341442, 28.063300378340767), (15.335360378341441, 32.825800378340766))
            Line((15.335360378341441, 32.825800378340766), (23.30080037834144, 40.79124037834077))
            ThreePointArc((23.30080037834144, 40.79124037834077), (28.06330037834144, 45.55374037834076), (32.82580037834144, 40.79124037834077))
            Line((32.82580037834144, 40.79124037834077), (40.79124037834144, 32.82580037834077))
            ThreePointArc((40.79124037834144, 32.82580037834077), (45.553740378341445, 28.063300378340767), (40.79124037834144, 23.300800378340764))
        make_face()
    extrude(amount=-CUT_EXTRUDE3_DEPTH, mode=Mode.SUBTRACT)

    # Fillet4
    fillet4_edges = [part.edges().sort_by_distance(p)[0] for p in [
        (23.30080037834144, 1.5875, 40.79124037834077),
        (15.335360378341441, 1.5875, 32.825800378340766),
        (15.335360378341441, 1.5875, 23.300800378340767),
        (23.300800378341435, 1.5875, 15.335360378340768),
        (32.82580037834144, 1.5875, 15.335360378340768),
        (40.79124037834144, 1.5875, 23.300800378340767),
        (40.79124037834144, 1.5875, 32.82580037834077),
        (32.82580037834144, 1.5875, 40.79124037834077),
    ]]
    fillet(fillet4_edges, radius=FILLET4_R)


solid = part.part
